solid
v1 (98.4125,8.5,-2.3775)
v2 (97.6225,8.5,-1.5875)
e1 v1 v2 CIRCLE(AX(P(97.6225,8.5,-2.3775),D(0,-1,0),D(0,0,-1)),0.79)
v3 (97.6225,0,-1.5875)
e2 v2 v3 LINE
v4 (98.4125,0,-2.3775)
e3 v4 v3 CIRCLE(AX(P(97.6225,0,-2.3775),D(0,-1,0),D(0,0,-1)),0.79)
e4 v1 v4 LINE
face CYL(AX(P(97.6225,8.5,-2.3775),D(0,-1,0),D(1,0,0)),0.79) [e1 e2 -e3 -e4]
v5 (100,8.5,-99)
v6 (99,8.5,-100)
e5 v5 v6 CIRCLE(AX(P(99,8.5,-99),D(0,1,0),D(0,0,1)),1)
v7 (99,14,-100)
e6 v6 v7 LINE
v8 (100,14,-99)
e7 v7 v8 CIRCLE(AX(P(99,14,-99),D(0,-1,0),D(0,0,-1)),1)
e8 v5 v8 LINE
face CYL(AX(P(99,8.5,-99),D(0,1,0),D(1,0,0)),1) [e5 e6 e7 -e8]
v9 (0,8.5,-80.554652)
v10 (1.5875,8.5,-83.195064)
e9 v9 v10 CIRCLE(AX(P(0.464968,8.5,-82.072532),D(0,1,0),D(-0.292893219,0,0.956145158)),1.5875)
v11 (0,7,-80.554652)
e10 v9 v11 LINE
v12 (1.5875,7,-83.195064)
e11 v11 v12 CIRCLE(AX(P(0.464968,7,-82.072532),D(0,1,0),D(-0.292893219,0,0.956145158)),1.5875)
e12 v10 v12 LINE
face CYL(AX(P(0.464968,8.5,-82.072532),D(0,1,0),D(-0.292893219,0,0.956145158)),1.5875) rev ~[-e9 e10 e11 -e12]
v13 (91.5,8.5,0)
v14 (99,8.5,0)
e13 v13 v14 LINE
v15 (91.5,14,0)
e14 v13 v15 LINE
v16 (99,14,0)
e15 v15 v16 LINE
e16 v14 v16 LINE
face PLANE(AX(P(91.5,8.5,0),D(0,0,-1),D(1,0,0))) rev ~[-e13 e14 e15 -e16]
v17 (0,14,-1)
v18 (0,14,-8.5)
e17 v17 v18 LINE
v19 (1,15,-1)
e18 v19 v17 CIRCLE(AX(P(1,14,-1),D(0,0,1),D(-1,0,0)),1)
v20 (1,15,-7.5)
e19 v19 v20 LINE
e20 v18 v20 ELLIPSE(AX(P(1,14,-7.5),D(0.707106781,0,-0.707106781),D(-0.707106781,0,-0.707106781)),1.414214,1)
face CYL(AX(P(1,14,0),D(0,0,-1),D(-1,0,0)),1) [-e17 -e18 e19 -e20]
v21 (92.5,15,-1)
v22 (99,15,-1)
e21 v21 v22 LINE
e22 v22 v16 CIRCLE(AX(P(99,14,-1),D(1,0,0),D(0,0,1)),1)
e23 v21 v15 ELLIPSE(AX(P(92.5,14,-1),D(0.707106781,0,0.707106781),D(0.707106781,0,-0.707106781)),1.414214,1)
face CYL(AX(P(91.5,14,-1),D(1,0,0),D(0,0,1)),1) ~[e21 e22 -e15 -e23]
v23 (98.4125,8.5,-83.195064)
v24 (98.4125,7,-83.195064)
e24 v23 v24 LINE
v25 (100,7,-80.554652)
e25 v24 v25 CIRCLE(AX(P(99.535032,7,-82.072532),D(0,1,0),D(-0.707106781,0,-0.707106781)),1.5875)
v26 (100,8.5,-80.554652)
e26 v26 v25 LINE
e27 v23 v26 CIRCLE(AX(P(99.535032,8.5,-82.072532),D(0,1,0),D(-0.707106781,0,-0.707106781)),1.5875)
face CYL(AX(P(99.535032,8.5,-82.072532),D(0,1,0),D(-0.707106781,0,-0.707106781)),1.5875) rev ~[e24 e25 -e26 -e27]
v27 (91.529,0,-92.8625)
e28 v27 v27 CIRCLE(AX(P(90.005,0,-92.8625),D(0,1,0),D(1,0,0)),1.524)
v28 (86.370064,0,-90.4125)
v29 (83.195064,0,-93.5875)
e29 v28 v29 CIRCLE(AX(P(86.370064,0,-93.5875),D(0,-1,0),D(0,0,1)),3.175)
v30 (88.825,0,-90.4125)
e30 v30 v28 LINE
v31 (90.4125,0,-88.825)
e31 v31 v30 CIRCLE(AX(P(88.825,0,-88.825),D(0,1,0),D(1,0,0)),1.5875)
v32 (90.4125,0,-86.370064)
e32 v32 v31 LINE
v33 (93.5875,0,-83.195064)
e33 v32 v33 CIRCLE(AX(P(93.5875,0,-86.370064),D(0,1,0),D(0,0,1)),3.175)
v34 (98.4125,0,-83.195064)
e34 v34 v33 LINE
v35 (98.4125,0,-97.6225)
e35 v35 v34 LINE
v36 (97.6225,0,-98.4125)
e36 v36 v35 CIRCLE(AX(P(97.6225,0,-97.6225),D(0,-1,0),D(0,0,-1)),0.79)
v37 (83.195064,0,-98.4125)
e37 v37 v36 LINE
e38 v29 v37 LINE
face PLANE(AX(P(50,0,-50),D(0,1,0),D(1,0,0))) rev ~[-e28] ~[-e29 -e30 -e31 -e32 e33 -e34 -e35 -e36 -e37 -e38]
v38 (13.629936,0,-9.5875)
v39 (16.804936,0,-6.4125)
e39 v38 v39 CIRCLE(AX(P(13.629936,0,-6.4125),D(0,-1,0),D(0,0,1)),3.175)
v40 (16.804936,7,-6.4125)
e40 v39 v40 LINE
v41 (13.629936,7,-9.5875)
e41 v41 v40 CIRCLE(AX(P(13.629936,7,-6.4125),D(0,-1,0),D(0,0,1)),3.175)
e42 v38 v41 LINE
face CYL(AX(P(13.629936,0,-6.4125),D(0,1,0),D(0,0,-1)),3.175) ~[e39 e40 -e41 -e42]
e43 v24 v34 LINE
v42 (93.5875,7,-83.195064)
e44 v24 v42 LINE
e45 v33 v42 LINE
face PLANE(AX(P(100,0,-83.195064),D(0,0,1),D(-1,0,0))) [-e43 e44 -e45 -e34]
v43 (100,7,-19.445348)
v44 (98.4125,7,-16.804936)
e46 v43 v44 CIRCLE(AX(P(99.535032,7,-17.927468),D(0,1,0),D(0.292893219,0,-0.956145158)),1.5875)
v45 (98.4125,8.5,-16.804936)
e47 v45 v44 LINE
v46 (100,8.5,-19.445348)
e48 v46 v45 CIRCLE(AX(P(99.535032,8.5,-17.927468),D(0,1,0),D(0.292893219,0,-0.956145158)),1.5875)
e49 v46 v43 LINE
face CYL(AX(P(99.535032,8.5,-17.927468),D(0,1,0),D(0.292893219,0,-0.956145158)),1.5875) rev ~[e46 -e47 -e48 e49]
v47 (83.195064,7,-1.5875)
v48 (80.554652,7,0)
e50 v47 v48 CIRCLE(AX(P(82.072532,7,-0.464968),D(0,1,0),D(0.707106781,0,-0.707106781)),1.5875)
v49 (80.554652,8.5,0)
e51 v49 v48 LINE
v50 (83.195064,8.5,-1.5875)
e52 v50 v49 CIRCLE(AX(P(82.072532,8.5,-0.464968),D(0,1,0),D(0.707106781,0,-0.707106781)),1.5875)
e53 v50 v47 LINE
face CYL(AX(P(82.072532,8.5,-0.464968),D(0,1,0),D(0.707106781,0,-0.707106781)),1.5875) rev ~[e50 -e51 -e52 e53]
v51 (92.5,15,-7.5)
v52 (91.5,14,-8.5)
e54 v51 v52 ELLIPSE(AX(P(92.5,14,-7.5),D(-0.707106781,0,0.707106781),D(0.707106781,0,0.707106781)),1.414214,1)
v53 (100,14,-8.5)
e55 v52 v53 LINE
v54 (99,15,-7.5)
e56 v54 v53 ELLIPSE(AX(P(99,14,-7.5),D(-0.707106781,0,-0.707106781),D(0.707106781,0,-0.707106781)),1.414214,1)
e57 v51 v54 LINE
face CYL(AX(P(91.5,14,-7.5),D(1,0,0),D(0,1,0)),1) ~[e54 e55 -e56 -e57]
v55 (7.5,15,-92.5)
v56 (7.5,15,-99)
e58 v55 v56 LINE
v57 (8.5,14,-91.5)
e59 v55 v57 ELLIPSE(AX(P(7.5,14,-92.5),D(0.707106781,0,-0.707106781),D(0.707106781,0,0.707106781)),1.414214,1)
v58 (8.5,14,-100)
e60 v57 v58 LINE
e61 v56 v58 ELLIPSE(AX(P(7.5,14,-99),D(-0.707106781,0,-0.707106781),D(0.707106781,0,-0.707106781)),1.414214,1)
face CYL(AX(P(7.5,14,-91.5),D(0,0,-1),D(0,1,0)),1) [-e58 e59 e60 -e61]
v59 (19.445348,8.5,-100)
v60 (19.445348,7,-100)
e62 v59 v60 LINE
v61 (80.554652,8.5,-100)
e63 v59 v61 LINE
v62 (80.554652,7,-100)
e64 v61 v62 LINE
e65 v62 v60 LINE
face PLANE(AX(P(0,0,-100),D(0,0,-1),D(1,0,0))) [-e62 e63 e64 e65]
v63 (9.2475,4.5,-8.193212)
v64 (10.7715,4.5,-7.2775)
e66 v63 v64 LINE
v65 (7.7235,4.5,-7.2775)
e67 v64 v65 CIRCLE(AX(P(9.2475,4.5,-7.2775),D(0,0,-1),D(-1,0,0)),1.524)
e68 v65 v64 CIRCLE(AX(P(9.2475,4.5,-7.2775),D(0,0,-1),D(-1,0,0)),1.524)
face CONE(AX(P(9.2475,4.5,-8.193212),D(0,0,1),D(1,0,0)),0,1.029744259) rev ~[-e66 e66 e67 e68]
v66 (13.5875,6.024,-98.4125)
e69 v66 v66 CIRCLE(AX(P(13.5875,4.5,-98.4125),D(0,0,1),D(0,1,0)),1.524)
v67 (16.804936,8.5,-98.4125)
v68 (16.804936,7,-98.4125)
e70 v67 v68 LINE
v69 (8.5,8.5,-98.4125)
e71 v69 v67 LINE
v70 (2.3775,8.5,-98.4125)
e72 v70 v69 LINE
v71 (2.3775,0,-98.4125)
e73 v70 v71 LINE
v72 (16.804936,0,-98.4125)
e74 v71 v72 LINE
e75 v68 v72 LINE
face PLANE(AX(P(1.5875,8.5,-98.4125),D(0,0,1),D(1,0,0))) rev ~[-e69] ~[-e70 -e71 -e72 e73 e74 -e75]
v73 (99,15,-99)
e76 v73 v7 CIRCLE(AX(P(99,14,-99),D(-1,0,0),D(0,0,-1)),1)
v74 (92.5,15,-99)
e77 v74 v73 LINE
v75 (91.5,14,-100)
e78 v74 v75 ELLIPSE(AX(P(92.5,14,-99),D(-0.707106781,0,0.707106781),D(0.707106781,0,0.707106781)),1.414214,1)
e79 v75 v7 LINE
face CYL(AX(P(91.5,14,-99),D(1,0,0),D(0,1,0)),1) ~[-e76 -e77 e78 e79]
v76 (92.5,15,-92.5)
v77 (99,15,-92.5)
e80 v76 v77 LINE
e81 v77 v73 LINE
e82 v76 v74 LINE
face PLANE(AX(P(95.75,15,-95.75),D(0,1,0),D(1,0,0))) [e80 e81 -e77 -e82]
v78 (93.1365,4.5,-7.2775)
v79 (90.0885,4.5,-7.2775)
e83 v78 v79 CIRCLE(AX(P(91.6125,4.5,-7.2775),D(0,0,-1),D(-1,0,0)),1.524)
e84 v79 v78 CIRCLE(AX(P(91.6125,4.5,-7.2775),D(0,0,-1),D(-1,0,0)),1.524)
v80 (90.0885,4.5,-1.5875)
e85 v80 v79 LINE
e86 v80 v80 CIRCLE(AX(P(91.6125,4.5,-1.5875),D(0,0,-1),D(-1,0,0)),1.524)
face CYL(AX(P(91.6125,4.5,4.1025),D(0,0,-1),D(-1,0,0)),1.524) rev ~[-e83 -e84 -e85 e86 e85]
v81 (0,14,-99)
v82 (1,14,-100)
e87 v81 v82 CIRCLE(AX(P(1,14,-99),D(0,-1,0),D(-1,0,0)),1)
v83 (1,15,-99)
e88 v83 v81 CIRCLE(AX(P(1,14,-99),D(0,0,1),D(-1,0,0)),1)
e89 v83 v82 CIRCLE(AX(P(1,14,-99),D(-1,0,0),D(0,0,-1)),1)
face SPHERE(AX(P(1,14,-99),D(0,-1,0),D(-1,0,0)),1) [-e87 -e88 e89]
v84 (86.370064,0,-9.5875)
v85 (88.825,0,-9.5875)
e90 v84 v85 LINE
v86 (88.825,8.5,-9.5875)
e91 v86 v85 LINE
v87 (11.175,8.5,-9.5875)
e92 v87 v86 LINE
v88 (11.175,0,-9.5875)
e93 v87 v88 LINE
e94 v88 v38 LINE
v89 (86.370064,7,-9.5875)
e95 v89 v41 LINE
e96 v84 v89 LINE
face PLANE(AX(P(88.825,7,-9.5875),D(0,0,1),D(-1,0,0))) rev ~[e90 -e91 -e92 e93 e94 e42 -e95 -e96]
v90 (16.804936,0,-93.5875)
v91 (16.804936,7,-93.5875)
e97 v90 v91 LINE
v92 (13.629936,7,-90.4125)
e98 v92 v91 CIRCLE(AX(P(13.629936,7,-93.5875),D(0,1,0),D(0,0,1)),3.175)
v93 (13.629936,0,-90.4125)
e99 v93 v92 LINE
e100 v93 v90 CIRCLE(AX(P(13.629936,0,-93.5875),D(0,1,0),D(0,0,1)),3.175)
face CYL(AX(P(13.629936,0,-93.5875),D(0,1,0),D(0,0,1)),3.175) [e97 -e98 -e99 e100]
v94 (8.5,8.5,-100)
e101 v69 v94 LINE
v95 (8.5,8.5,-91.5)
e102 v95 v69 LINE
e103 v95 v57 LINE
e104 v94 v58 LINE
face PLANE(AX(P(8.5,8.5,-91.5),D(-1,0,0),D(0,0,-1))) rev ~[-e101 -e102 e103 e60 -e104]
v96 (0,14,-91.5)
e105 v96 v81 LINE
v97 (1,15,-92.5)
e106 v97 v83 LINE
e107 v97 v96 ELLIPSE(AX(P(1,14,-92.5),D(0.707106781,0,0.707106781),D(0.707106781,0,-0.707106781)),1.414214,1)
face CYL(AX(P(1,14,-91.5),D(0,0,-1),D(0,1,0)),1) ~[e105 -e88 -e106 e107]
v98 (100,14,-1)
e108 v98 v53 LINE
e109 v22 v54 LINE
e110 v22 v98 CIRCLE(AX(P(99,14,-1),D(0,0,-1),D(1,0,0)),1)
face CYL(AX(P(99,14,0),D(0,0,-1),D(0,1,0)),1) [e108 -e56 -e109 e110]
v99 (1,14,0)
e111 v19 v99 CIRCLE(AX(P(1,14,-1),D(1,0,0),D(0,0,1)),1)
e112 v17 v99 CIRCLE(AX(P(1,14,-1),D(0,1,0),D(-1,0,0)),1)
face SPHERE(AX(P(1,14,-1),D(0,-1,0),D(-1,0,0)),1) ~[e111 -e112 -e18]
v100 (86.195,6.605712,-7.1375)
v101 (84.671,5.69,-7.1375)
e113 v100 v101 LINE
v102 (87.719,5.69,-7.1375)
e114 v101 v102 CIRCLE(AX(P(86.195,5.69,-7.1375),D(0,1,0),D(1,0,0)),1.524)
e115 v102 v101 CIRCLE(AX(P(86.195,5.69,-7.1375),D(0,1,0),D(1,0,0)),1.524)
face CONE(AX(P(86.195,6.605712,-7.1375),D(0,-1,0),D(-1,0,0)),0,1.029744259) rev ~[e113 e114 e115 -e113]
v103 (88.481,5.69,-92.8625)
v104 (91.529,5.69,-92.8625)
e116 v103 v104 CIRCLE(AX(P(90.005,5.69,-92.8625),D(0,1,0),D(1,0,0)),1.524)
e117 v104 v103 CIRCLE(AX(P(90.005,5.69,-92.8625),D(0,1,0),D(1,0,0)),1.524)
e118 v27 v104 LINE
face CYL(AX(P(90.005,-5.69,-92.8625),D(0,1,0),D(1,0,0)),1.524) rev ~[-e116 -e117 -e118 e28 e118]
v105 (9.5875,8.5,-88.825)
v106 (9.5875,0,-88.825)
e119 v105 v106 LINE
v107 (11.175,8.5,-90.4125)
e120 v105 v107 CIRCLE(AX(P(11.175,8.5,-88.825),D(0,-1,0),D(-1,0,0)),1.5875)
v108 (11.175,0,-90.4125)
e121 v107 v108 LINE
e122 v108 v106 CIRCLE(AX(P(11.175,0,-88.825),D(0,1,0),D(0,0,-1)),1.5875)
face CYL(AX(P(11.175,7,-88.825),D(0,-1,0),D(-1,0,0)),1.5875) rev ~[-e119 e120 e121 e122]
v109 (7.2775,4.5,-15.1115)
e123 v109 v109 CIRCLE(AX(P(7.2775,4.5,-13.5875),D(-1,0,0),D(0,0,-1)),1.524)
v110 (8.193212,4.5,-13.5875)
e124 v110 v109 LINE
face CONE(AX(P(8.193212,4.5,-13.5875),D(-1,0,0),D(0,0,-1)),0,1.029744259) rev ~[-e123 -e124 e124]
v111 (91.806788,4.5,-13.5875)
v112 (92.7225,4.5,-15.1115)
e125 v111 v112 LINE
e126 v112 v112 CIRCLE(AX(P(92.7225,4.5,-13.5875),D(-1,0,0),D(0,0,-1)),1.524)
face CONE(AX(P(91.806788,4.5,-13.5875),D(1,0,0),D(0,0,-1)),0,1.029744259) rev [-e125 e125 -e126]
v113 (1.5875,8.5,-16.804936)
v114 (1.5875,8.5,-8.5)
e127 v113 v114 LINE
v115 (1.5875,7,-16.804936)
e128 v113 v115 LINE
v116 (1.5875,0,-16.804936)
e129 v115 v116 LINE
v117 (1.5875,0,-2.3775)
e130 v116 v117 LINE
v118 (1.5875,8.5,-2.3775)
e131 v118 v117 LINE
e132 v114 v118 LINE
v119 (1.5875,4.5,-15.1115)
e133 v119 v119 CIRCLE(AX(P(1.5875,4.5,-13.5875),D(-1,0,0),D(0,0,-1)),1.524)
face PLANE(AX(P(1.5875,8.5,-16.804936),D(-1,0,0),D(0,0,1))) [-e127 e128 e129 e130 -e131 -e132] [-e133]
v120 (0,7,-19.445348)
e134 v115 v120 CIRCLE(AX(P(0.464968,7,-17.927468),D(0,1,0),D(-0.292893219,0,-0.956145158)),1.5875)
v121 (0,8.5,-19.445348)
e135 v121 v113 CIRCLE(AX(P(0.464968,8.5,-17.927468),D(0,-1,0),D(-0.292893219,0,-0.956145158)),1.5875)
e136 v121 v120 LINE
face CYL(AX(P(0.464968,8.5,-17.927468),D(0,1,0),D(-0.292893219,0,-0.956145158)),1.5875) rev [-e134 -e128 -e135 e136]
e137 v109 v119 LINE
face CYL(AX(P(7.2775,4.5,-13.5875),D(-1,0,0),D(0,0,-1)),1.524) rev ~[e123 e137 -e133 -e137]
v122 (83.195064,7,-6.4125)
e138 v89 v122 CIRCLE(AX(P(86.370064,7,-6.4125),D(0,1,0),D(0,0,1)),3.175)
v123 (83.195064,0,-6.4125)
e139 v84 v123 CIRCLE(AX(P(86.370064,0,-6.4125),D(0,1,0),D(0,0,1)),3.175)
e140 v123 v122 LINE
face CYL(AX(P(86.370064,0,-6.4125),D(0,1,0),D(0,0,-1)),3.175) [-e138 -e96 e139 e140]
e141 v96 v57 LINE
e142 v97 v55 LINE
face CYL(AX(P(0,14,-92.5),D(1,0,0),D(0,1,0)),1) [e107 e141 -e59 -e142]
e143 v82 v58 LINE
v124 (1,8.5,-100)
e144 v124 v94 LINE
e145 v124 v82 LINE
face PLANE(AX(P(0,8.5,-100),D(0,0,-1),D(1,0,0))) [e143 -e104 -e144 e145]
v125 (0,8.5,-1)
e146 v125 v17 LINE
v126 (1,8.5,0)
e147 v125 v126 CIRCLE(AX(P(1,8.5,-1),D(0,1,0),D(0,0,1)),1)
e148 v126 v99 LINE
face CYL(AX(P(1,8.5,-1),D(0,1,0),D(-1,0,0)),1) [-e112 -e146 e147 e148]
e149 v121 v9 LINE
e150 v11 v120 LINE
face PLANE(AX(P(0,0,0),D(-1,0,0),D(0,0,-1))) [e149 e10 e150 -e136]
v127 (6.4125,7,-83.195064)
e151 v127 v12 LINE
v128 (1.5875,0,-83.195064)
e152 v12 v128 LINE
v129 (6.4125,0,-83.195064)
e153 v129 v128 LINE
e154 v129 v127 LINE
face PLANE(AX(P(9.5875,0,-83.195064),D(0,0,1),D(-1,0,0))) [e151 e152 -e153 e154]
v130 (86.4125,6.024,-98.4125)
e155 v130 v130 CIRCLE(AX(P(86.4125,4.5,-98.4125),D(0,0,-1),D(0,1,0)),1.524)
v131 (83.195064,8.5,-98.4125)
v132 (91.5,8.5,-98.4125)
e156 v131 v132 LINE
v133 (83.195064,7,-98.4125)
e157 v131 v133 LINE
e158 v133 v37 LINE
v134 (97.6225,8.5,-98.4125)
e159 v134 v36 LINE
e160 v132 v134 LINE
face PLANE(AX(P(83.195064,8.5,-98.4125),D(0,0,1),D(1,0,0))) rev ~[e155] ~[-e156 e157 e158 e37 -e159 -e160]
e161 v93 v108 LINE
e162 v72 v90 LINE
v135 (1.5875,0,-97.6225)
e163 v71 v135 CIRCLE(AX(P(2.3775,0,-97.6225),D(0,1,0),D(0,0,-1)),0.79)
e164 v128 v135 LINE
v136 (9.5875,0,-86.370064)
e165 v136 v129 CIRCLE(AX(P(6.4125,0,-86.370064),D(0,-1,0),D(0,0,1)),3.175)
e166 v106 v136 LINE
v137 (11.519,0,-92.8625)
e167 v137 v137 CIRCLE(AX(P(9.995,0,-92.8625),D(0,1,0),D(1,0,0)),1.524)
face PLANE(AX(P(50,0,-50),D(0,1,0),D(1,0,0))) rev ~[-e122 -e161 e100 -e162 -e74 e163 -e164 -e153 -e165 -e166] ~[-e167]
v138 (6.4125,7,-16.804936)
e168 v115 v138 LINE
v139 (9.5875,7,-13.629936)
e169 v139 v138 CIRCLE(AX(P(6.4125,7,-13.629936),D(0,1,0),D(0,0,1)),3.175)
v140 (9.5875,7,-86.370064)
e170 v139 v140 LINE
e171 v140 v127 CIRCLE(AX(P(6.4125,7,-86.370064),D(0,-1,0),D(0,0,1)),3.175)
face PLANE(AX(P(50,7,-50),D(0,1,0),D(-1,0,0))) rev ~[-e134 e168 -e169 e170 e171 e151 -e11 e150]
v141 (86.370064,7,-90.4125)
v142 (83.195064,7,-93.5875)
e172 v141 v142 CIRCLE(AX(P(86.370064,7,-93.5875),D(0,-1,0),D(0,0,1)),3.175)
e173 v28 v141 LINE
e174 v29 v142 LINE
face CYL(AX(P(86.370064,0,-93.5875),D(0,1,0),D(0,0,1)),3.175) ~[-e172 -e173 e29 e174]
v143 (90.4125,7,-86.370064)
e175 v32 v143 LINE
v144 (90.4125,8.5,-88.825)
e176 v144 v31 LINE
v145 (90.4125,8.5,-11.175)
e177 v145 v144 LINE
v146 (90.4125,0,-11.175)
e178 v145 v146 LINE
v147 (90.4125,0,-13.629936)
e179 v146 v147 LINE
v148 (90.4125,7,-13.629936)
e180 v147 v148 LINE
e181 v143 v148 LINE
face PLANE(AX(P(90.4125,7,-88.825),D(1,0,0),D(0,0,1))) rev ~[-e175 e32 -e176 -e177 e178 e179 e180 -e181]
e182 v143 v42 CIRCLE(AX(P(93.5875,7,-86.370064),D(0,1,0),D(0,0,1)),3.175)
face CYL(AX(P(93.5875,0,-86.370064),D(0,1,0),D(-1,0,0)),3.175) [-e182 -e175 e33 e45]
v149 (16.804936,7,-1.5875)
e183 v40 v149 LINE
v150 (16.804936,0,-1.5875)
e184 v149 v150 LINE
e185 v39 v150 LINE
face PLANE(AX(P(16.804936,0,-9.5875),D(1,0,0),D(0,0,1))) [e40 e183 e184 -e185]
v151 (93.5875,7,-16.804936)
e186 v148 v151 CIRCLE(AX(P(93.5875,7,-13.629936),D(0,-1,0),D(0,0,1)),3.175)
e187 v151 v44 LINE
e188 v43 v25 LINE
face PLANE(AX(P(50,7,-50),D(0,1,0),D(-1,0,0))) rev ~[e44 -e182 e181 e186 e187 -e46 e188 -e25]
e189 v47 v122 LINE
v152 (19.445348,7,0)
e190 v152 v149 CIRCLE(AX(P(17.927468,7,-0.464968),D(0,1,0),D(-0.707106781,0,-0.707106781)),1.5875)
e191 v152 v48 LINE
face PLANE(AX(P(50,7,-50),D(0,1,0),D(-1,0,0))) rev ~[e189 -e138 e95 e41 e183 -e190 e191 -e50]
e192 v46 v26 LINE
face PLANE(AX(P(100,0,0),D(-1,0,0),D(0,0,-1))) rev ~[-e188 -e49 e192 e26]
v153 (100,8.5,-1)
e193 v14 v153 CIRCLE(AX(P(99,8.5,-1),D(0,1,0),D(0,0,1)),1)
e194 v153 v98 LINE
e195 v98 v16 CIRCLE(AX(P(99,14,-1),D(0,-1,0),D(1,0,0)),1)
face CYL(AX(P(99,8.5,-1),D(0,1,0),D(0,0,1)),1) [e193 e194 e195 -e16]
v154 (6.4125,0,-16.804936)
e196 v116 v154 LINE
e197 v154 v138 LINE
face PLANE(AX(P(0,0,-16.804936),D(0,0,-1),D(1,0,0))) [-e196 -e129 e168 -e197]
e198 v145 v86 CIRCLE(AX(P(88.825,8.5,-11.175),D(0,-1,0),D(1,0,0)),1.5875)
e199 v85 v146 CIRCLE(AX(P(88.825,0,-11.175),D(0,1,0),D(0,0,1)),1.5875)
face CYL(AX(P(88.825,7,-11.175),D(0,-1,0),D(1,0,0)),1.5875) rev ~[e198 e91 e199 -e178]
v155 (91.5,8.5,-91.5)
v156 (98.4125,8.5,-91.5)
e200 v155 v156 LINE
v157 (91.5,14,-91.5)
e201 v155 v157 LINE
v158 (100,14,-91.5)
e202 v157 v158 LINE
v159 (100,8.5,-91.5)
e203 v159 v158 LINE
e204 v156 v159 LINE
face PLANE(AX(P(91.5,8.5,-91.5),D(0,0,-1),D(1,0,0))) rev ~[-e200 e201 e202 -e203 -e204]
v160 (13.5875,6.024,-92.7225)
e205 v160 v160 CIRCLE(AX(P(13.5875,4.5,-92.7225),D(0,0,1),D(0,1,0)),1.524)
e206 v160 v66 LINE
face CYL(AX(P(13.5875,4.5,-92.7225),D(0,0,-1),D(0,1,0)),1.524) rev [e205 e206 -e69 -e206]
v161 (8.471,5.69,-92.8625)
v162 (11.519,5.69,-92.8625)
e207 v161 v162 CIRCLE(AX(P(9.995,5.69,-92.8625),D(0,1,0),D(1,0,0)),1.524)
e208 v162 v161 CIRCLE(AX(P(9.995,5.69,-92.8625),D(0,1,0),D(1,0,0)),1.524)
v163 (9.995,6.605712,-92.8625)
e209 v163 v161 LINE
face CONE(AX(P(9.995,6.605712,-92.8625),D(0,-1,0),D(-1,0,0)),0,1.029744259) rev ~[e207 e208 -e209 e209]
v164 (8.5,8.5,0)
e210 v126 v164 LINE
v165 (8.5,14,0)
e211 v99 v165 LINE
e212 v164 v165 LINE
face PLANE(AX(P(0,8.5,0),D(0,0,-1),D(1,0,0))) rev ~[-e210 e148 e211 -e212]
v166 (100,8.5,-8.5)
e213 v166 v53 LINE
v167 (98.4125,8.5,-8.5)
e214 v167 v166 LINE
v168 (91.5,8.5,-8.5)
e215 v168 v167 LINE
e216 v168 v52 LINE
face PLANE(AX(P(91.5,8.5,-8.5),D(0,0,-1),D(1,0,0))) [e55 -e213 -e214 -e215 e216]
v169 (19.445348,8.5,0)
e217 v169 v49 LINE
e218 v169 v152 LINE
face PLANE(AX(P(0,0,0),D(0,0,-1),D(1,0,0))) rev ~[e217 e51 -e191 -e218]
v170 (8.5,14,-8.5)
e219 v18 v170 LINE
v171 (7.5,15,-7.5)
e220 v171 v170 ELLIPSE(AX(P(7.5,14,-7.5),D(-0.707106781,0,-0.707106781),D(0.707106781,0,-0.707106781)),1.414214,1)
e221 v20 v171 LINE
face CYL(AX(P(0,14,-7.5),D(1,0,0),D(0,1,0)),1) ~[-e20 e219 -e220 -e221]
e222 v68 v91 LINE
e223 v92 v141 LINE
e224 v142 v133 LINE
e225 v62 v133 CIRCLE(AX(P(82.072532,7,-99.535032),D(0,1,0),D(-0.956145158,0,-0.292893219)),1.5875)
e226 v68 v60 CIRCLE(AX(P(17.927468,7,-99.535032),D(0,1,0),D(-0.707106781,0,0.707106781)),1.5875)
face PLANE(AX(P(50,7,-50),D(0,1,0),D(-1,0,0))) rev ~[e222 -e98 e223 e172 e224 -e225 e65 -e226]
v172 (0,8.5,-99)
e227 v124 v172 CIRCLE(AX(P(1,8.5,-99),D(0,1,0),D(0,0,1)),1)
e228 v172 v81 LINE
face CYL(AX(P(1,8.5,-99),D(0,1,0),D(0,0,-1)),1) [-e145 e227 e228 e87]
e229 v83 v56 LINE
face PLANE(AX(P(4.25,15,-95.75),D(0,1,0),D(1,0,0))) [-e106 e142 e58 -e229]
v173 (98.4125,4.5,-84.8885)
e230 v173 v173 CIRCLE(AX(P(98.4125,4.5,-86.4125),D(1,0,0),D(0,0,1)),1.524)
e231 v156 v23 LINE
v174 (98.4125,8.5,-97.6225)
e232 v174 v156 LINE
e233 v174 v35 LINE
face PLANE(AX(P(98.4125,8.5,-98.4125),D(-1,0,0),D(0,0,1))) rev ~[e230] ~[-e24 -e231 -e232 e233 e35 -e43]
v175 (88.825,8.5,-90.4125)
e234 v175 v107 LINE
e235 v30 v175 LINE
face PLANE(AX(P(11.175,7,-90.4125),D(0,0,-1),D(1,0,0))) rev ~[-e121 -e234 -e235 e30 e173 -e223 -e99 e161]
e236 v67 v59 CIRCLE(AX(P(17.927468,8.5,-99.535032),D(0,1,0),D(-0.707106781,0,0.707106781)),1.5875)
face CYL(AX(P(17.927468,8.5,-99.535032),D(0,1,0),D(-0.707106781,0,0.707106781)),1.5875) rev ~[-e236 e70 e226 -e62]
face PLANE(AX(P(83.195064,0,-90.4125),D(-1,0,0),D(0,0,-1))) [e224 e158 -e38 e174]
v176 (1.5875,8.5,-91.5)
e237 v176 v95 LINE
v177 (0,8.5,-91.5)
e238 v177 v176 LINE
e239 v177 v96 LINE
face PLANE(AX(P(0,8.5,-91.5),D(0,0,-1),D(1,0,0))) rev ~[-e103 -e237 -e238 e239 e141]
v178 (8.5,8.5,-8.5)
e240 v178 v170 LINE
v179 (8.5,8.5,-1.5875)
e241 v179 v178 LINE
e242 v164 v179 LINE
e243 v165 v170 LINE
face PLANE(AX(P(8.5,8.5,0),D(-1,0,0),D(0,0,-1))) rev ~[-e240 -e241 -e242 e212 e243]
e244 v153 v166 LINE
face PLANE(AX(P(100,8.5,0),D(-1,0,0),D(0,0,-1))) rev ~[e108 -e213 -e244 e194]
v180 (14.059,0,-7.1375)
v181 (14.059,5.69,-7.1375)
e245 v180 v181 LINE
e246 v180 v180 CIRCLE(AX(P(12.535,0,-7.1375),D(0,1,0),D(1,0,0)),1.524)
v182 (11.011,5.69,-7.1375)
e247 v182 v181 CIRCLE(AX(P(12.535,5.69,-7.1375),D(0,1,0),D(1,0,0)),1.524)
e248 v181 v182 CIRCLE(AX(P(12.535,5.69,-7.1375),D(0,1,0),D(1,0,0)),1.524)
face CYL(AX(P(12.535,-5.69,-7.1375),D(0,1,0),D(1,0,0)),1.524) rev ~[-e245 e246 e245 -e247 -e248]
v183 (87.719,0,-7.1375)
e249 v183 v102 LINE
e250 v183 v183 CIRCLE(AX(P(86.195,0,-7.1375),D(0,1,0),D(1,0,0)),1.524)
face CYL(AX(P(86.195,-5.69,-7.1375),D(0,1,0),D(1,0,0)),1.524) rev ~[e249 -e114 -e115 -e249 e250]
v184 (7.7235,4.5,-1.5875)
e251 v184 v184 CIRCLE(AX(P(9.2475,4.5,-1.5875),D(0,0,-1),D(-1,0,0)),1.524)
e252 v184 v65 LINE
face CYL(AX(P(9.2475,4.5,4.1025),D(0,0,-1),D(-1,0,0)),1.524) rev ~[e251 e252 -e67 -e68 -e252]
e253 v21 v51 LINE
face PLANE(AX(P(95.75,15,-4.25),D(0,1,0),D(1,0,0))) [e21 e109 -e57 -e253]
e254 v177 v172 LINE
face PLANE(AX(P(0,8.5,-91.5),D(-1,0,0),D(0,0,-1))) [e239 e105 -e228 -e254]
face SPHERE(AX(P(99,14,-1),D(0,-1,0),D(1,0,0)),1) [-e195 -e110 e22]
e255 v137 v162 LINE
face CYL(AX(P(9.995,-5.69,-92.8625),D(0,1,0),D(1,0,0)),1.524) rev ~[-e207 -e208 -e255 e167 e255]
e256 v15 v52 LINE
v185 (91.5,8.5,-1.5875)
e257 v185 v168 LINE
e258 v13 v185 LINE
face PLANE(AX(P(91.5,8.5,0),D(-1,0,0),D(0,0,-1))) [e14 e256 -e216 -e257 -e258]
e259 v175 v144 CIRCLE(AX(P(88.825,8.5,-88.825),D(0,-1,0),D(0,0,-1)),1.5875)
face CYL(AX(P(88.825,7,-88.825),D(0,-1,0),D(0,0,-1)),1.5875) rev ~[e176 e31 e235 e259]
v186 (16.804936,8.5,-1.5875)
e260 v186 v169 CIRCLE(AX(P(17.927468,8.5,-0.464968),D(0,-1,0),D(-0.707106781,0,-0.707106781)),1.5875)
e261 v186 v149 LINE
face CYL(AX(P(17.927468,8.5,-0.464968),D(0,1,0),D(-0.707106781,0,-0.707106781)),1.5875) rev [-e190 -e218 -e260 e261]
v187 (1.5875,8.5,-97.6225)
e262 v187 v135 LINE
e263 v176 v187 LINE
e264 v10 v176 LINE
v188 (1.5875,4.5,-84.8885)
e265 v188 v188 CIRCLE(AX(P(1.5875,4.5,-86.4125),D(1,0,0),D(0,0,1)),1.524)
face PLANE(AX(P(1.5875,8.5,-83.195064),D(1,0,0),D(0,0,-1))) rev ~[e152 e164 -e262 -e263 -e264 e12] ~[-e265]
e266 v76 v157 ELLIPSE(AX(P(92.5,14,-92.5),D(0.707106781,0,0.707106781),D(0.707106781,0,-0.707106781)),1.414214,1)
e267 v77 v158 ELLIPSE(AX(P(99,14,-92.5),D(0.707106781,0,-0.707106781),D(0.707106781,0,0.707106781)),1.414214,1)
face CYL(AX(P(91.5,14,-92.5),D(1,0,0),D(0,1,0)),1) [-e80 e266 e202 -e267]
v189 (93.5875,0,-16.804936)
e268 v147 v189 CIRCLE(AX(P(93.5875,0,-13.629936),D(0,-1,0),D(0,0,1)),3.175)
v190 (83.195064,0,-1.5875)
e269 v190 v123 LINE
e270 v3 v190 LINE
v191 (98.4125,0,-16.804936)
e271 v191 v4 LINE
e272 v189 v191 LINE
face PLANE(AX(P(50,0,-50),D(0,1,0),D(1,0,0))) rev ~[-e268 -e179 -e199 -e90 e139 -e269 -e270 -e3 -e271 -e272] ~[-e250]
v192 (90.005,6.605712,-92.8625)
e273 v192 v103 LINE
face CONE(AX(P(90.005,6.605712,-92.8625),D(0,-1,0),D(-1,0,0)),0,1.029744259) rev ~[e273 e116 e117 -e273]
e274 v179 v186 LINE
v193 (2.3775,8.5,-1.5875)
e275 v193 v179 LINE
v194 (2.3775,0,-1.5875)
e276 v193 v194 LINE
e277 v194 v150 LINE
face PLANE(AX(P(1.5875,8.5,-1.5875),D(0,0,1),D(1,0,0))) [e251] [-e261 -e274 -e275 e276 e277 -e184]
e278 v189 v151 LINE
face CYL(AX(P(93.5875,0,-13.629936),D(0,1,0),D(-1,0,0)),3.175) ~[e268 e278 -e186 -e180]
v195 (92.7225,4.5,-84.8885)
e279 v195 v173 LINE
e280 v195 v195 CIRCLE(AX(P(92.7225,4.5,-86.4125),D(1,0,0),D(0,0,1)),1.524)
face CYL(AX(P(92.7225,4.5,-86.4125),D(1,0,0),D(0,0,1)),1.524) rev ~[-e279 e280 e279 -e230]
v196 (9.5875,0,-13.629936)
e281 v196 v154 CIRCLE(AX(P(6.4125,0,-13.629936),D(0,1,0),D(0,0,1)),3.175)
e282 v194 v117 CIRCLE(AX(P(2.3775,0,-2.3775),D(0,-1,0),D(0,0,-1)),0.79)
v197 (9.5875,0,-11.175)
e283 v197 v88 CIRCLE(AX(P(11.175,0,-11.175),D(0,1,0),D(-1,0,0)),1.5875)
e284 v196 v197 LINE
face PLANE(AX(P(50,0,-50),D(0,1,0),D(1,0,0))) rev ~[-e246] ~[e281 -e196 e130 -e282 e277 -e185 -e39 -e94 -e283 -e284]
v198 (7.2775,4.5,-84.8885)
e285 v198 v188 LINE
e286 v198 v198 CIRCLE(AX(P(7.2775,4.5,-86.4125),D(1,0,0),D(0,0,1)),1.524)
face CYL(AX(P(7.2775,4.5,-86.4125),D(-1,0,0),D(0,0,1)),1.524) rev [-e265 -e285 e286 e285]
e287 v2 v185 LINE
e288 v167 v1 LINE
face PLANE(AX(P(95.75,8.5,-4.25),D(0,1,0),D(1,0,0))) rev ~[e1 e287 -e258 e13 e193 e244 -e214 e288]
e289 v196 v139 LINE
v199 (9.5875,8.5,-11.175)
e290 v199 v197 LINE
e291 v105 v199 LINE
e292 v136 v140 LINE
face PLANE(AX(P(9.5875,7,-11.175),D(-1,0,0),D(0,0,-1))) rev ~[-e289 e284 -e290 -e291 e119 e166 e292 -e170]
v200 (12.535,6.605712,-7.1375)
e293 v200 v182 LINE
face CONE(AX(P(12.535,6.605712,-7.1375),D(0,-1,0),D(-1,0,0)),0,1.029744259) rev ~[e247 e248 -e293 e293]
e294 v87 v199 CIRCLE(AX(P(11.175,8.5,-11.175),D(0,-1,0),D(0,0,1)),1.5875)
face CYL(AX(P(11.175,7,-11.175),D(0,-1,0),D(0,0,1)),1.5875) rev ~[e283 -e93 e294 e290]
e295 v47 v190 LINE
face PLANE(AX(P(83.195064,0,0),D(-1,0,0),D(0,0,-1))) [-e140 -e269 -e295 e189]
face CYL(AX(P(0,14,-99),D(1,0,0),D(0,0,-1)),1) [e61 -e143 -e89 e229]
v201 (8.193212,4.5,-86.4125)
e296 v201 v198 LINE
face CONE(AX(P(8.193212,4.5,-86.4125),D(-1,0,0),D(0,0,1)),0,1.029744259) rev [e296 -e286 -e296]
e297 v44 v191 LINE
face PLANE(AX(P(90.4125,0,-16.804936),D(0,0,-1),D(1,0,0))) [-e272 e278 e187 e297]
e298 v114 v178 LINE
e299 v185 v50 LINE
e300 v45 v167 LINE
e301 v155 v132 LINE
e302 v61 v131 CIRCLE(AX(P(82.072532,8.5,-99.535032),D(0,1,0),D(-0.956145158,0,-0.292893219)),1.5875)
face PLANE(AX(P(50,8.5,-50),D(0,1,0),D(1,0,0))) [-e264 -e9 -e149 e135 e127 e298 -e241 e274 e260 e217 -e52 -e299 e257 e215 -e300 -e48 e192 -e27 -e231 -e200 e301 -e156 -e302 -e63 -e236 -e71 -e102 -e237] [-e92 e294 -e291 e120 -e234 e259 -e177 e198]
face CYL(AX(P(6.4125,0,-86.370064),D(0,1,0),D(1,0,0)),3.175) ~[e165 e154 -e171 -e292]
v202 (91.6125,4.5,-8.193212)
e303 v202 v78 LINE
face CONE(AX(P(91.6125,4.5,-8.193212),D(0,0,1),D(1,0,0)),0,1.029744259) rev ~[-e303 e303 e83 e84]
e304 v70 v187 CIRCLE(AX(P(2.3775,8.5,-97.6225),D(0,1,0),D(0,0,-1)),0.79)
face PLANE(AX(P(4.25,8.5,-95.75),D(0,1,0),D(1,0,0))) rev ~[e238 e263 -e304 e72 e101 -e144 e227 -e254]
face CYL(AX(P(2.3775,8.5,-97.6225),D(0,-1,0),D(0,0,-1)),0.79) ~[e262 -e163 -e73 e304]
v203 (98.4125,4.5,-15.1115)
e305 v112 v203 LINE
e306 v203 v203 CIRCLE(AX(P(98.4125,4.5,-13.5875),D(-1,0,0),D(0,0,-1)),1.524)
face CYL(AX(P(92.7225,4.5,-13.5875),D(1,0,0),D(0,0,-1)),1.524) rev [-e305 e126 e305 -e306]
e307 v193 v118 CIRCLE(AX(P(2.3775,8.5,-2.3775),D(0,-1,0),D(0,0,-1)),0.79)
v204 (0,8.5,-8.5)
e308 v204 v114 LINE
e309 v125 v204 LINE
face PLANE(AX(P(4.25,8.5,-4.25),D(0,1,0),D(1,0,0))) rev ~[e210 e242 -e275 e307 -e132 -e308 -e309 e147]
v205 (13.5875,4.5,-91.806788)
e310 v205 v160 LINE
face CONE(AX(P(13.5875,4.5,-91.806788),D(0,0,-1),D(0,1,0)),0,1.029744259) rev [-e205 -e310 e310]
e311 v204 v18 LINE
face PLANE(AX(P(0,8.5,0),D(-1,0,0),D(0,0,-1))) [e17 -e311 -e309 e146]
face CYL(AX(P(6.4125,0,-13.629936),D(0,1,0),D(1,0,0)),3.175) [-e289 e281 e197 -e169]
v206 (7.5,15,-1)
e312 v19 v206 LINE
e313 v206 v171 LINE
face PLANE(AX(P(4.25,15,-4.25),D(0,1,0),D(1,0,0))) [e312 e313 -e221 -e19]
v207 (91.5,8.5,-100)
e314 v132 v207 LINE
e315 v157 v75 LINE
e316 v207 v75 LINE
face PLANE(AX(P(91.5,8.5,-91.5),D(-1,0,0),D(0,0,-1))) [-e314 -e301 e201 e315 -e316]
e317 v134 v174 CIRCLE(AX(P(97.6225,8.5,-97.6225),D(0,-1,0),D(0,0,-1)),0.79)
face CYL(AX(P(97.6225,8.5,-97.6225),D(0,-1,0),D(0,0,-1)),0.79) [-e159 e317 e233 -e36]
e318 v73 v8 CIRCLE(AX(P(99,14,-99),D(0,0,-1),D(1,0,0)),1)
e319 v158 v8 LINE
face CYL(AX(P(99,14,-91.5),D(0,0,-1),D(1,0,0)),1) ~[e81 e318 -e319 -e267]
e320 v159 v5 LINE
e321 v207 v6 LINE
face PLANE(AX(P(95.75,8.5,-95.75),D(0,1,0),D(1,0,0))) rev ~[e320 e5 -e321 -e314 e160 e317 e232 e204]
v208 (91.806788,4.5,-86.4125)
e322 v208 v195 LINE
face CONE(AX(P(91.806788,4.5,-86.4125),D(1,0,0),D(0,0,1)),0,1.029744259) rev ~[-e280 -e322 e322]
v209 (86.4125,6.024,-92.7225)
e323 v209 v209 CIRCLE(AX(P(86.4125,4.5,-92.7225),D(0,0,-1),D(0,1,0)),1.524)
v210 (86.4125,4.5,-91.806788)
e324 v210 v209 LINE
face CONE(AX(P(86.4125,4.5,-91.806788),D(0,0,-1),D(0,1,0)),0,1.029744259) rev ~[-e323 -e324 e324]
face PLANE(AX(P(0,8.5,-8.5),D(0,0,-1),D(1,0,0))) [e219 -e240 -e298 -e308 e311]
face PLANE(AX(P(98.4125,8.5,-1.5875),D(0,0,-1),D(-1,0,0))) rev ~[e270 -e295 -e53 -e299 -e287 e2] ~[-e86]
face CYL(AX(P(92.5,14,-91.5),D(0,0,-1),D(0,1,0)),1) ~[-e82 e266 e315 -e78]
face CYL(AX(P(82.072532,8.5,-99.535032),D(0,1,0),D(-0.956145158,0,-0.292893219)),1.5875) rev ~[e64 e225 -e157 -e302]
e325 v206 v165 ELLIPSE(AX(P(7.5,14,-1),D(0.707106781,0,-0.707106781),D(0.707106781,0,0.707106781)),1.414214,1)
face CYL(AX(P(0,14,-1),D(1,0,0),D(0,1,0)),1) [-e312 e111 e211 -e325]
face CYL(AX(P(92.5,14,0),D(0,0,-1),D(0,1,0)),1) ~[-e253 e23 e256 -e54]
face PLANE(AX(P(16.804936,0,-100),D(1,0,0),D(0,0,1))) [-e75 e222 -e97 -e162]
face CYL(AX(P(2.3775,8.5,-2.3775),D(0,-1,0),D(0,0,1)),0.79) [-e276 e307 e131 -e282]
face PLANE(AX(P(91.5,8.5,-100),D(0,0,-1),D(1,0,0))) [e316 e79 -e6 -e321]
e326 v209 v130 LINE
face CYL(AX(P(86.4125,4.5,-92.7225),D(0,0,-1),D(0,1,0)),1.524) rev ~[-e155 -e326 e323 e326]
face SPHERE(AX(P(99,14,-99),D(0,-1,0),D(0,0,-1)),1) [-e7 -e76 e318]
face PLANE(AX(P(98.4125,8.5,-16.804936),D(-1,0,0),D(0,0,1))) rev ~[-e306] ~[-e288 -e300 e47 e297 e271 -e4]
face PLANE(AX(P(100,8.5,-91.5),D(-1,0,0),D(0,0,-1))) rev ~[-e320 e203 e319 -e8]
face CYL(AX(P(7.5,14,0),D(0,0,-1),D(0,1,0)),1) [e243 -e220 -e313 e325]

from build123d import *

# Parameters (mm, degrees)
SKETCH1_W                         = 100
SKETCH1_H                         = 100
BOSS_EXTRUDE1_DEPTH               = 8.5
CUT_EXTRUDE1_DEPTH                = 142.676568281
SKETCH3_W                         = 8.5
SKETCH3_H                         = 8.5
BOSS_EXTRUDE2_DEPTH               = 6.5
TAP_DRILL_FOR_4_HELICOIL5_D       = 3.048
TAP_DRILL_FOR_4_HELICOIL5_DEPTH   = 5.69
TAP_DRILL_FOR_4_HELICOIL5_TIP     = 0.915711583
TAP_DRILL_FOR_4_HELICOIL5_4_D     = 3.048
TAP_DRILL_FOR_4_HELICOIL5_4_DEPTH = 5.69
TAP_DRILL_FOR_4_HELICOIL5_4_TIP   = 0.915711583
CUT_EXTRUDE2_DEPTH                = 7
CUT_EXTRUDE3_DEPTH                = 142.647449677
FILLET1_R                         = 1
FILLET2_R                         = 3.175
FILLET3_R                         = 0.79
TAP_DRILL_FOR_4_HELICOIL5_5_D     = 3.048
TAP_DRILL_FOR_4_HELICOIL5_5_DEPTH = 5.69
TAP_DRILL_FOR_4_HELICOIL5_5_TIP   = 0.915711583


with BuildPart() as part:
    # Sketch1 → Boss-Extrude1 (new body)
    with BuildSketch(Plane(origin=(0, 0, 0), x_dir=(1, 0, 0), z_dir=(0, 1, 0))):
        with Locations((50, 50)):
            Rectangle(SKETCH1_W, SKETCH1_H)
    extrude(amount=BOSS_EXTRUDE1_DEPTH)

    # Sketch2 → Cut-Extrude1 (cut, through all)
    with BuildSketch(Plane(origin=(0, 8.5, 0), x_dir=(1, 0, 0), z_dir=(0, 1, 0))):
        with BuildLine():
            Line((19.05, 100), (0, 100))
            Line((0, 100), (0, 83.590412453))
            Line((0, 83.590412453), (0, 80.95))
            Line((0, 80.95), (0, 80.554651577))
            ThreePointArc((0, 80.554651577), (1.825498063, 81.254538032), (1.5875, 83.19506403))
            Line((1.5875, 83.19506403), (1.5875, 98.4125))
            Line((1.5875, 98.4125), (16.80493597, 98.4125))
            ThreePointArc((16.80493597, 98.4125), (18.745461968, 98.174501937), (19.445348423, 100))
            Line((19.445348423, 100), (19.05, 100))
        make_face()
        with BuildLine():
            Line((80.95, 100), (80.554651577, 100))
            ThreePointArc((80.554651577, 100), (81.254538032, 98.174501937), (83.19506403, 98.4125))
            Line((83.19506403, 98.4125), (98.4125, 98.4125))
            Line((98.4125, 98.4125), (98.4125, 83.19506403))
            ThreePointArc((98.4125, 83.19506403), (98.174501937, 81.254538032), (100, 80.554651577))
            Line((100, 80.554651577), (100, 80.95))
            Line((100, 80.95), (100, 83.590412453))
            Line((100, 83.590412453), (100, 100))
            Line((100, 100), (80.95, 100))
        make_face()
        with BuildLine():
            Line((1.5875, 1.5875), (16.80493597, 1.5875))
            ThreePointArc((16.80493597, 1.5875), (18.745461968, 1.825498063), (19.445348423, 0))
            Line((19.445348423, 0), (19.05, 0))
            Line((19.05, 0), (0, 0))
            Line((0, 0), (0, 19.05))
            Line((0, 19.05), (0, 19.445348423))
            ThreePointArc((0, 19.445348423), (1.825498063, 18.745461968), (1.5875, 16.80493597))
            Line((1.5875, 16.80493597), (1.5875, 1.5875))
        make_face()
        with BuildLine():
            Line((98.4125, 1.5875), (83.19506403, 1.5875))
            ThreePointArc((83.19506403, 1.5875), (81.254538032, 1.825498063), (80.554651577, 0))
            Line((80.554651577, 0), (80.95, 0))
            Line((80.95, 0), (100, 0))
            Line((100, 0), (100, 19.05))
            Line((100, 19.05), (100, 19.445348423))
            ThreePointArc((100, 19.445348423), (98.174501937, 18.745461968), (98.4125, 16.80493597))
            Line((98.4125, 16.80493597), (98.4125, 1.5875))
        make_face()
    extrude(amount=-CUT_EXTRUDE1_DEPTH, mode=Mode.SUBTRACT)

    # Sketch3 → Boss-Extrude2 (add)
    with BuildSketch(Plane(origin=(0, 8.5, 0), x_dir=(1, 0, 0), z_dir=(0, 1, 0))):
        with Locations((4.25, 4.25)):
            Rectangle(SKETCH3_W, SKETCH3_H)
        with Locations((95.75, 4.25)):
            Rectangle(SKETCH3_W, SKETCH3_H)
        with Locations((95.75, 95.75)):
            Rectangle(SKETCH3_W, SKETCH3_H)
        with Locations((4.25, 95.75)):
            Rectangle(SKETCH3_W, SKETCH3_H)
    extrude(amount=BOSS_EXTRUDE2_DEPTH)

    # Tap Drill for _4 Helicoil5
    with Locations(Plane(origin=(0, 0, 0), x_dir=(-1, 0, 0), z_dir=(0, -1, 0))):
        with Locations((-86.195, 7.1375), (-90.005, 92.8625), (-12.535, 7.1375), (-9.995, 92.8625)):
            Hole(TAP_DRILL_FOR_4_HELICOIL5_D / 2, depth=TAP_DRILL_FOR_4_HELICOIL5_DEPTH)
            with Locations((0, 0, -(TAP_DRILL_FOR_4_HELICOIL5_DEPTH + TAP_DRILL_FOR_4_HELICOIL5_TIP / 2))):  # 118° drill point
                Cone(0, TAP_DRILL_FOR_4_HELICOIL5_D / 2, TAP_DRILL_FOR_4_HELICOIL5_TIP, mode=Mode.SUBTRACT)

    # Sketch18 → Tap Drill for _4 Helicoil5 2 (revolve, cut)
    with BuildSketch(Plane(origin=(1.5875, 4.5, -86.4125), x_dir=(0, 0, 1), z_dir=(0, 1, 0))):
        Polygon((0, 0), (0, 6.605711583), (1.524, 5.69), (1.524, 0), align=None)
    tap_drill_for_4_helicoil5_2 = revolve(axis=Axis((-4.7625, 4.5, -86.4125), (1, 0, 0)), mode=Mode.SUBTRACT)

    # Mirror1: Tap Drill for _4 Helicoil5 2 across plane
    add(tap_drill_for_4_helicoil5_2.mirror(Plane(origin=(0, 0, -50), x_dir=(1, 0, 0), z_dir=(0, 0, -1))), mode=Mode.SUBTRACT)

    # Mirror2: Tap Drill for _4 Helicoil5 2 across plane
    add(tap_drill_for_4_helicoil5_2.mirror(Plane.ZY.offset(-50)), mode=Mode.SUBTRACT)

    # Mirror2 copy 1 sketch → Mirror2 copy 1 (revolve, cut)
    with BuildSketch(Plane(origin=(98.4125, 4.5, -13.5875), x_dir=(0, 0, -1), z_dir=(0, 1, 0))):
        Polygon((0, 0), (0, 6.605711583), (1.524, 5.69), (1.524, 0), align=None)
    revolve(axis=Axis((104.7625, 4.5, -13.5875), (-1, 0, 0)), mode=Mode.SUBTRACT)

    # Sketch21 → Tap Drill for _4 Helicoil5 3 (revolve, cut)
    with BuildSketch(Plane(origin=(13.5875, 4.5, -98.4125), x_dir=(0, 1, 0), z_dir=(1, 0, 0))):
        Polygon((0, 0), (0, 6.605711583), (1.524, 5.69), (1.524, 0), align=None)
    tap_drill_for_4_helicoil5_3 = revolve(axis=Axis((13.5875, 4.5, -104.7625), (0, 0, 1)), mode=Mode.SUBTRACT)

    # Mirror3: Tap Drill for _4 Helicoil5 3 across plane
    add(tap_drill_for_4_helicoil5_3.mirror(Plane.ZY.offset(-50)), mode=Mode.SUBTRACT)

    # Tap Drill for _4 Helicoil5 4
    with Locations(Plane.XY.offset(-1.5875)):
        with Locations((91.6125, 4.5)):
            Hole(TAP_DRILL_FOR_4_HELICOIL5_4_D / 2, depth=TAP_DRILL_FOR_4_HELICOIL5_4_DEPTH)
            with Locations((0, 0, -(TAP_DRILL_FOR_4_HELICOIL5_4_DEPTH + TAP_DRILL_FOR_4_HELICOIL5_4_TIP / 2))):  # 118° drill point
                Cone(0, TAP_DRILL_FOR_4_HELICOIL5_4_D / 2, TAP_DRILL_FOR_4_HELICOIL5_4_TIP, mode=Mode.SUBTRACT)

    # Sketch22 → Cut-Extrude2 (cut)
    with BuildSketch(Plane.XZ):
        with BuildLine():
            Line((83.19506403, -9.5875), (88.825, -9.5875))
            ThreePointArc((88.825, -9.5875), (89.947532015, -10.052467985), (90.4125, -11.175))
            Line((90.4125, -11.175), (90.4125, -16.80493597))
            Line((90.4125, -16.80493597), (98.4125, -16.80493597))
            Line((98.4125, -16.80493597), (100, -16.80493597))
            Line((100, -16.80493597), (100, -83.19506403))
            Line((100, -83.19506403), (98.4125, -83.19506403))
            Line((98.4125, -83.19506403), (90.4125, -83.19506403))
            Line((90.4125, -83.19506403), (90.4125, -88.825))
            ThreePointArc((90.4125, -88.825), (89.947532015, -89.947532015), (88.825, -90.4125))
            Line((88.825, -90.4125), (83.19506403, -90.4125))
            Line((83.19506403, -90.4125), (83.19506403, -98.4125))
            Line((83.19506403, -98.4125), (83.19506403, -100))
            Line((83.19506403, -100), (16.80493597, -100))
            Line((16.80493597, -100), (16.80493597, -98.4125))
            Line((16.80493597, -98.4125), (16.80493597, -90.4125))
            Line((16.80493597, -90.4125), (11.175, -90.4125))
            ThreePointArc((11.175, -90.4125), (10.052467985, -89.947532015), (9.5875, -88.825))
            Line((9.5875, -88.825), (9.5875, -83.19506403))
            Line((9.5875, -83.19506403), (1.5875, -83.19506403))
            Line((1.5875, -83.19506403), (0, -83.19506403))
            Line((0, -83.19506403), (0, -16.80493597))
            Line((0, -16.80493597), (1.5875, -16.80493597))
            Line((1.5875, -16.80493597), (9.5875, -16.80493597))
            Line((9.5875, -16.80493597), (9.5875, -11.175))
            ThreePointArc((9.5875, -11.175), (10.052467985, -10.052467985), (11.175, -9.5875))
            Line((11.175, -9.5875), (16.80493597, -9.5875))
            Line((16.80493597, -9.5875), (16.80493597, -1.5875))
            Line((16.80493597, -1.5875), (16.80493597, 0))
            Line((16.80493597, 0), (83.19506403, 0))
            Line((83.19506403, 0), (83.19506403, -1.5875))
            Line((83.19506403, -1.5875), (83.19506403, -9.5875))
        make_face()
    extrude(amount=-CUT_EXTRUDE2_DEPTH, mode=Mode.SUBTRACT)

    # Sketch23 → Cut-Extrude3 (cut, through all)
    with BuildSketch(Plane.XZ.offset(-7)):
        with BuildLine():
            Line((11.175, -90.4125), (88.825, -90.4125))
            ThreePointArc((88.825, -90.4125), (89.947532015, -89.947532015), (90.4125, -88.825))
            Line((90.4125, -88.825), (90.4125, -11.175))
            ThreePointArc((90.4125, -11.175), (89.947532015, -10.052467985), (88.825, -9.5875))
            Line((88.825, -9.5875), (11.175, -9.5875))
            ThreePointArc((11.175, -9.5875), (10.052467985, -10.052467985), (9.5875, -11.175))
            Line((9.5875, -11.175), (9.5875, -88.825))
            ThreePointArc((9.5875, -88.825), (10.052467985, -89.947532015), (11.175, -90.4125))
        make_face()
    extrude(amount=-CUT_EXTRUDE3_DEPTH, mode=Mode.SUBTRACT)

    # Fillet1
    fillet1_edges = [part.edges().sort_by_distance(p)[0] for p in [
        (0, 11.75, 0),
        (0, 15, -4.25),
        (4.25, 15, 0),
        (8.5, 15, -4.25),
        (4.25, 15, -8.5),
        (100, 11.75, 0),
        (100, 15, -4.25),
        (95.75, 15, -8.5),
        (91.5, 15, -4.25),
        (95.75, 15, 0),
        (100, 11.75, -100),
        (95.75, 15, -100),
        (91.5, 15, -95.75),
        (95.75, 15, -91.5),
        (100, 15, -95.75),
        (0, 11.75, -100),
        (0, 15, -95.75),
        (4.25, 15, -91.5),
        (8.5, 15, -95.75),
        (4.25, 15, -100),
    ]]
    fillet(fillet1_edges, radius=FILLET1_R)

    # Fillet2
    fillet2_edges = [part.edges().sort_by_distance(p)[0] for p in [
        (9.5875, 3.5, -83.19506403),
        (90.4125, 3.5, -16.80493597),
        (90.4125, 3.5, -83.19506403),
        (83.19506403, 3.5, -90.4125),
        (16.80493597, 3.5, -90.4125),
        (9.5875, 3.5, -16.80493597),
        (16.80493597, 3.5, -9.5875),
        (83.19506403, 3.5, -9.5875),
    ]]
    fillet(fillet2_edges, radius=FILLET2_R)

    # Fillet3
    fillet3_edges = [part.edges().sort_by_distance(p)[0] for p in [
        (98.4125, 4.25, -98.4125),
        (1.5875, 4.25, -1.5875),
        (98.4125, 4.25, -1.5875),
        (1.5875, 4.25, -98.4125),
    ]]
    fillet(fillet3_edges, radius=FILLET3_R)

    # Tap Drill for _4 Helicoil5 5
    with Locations(Plane.XY.offset(-1.5875)):
        with Locations((9.2475, 4.5)):
            Hole(TAP_DRILL_FOR_4_HELICOIL5_5_D / 2, depth=TAP_DRILL_FOR_4_HELICOIL5_5_DEPTH)
            with Locations((0, 0, -(TAP_DRILL_FOR_4_HELICOIL5_5_DEPTH + TAP_DRILL_FOR_4_HELICOIL5_5_TIP / 2))):  # 118° drill point
                Cone(0, TAP_DRILL_FOR_4_HELICOIL5_5_D / 2, TAP_DRILL_FOR_4_HELICOIL5_5_TIP, mode=Mode.SUBTRACT)


solid = part.part
